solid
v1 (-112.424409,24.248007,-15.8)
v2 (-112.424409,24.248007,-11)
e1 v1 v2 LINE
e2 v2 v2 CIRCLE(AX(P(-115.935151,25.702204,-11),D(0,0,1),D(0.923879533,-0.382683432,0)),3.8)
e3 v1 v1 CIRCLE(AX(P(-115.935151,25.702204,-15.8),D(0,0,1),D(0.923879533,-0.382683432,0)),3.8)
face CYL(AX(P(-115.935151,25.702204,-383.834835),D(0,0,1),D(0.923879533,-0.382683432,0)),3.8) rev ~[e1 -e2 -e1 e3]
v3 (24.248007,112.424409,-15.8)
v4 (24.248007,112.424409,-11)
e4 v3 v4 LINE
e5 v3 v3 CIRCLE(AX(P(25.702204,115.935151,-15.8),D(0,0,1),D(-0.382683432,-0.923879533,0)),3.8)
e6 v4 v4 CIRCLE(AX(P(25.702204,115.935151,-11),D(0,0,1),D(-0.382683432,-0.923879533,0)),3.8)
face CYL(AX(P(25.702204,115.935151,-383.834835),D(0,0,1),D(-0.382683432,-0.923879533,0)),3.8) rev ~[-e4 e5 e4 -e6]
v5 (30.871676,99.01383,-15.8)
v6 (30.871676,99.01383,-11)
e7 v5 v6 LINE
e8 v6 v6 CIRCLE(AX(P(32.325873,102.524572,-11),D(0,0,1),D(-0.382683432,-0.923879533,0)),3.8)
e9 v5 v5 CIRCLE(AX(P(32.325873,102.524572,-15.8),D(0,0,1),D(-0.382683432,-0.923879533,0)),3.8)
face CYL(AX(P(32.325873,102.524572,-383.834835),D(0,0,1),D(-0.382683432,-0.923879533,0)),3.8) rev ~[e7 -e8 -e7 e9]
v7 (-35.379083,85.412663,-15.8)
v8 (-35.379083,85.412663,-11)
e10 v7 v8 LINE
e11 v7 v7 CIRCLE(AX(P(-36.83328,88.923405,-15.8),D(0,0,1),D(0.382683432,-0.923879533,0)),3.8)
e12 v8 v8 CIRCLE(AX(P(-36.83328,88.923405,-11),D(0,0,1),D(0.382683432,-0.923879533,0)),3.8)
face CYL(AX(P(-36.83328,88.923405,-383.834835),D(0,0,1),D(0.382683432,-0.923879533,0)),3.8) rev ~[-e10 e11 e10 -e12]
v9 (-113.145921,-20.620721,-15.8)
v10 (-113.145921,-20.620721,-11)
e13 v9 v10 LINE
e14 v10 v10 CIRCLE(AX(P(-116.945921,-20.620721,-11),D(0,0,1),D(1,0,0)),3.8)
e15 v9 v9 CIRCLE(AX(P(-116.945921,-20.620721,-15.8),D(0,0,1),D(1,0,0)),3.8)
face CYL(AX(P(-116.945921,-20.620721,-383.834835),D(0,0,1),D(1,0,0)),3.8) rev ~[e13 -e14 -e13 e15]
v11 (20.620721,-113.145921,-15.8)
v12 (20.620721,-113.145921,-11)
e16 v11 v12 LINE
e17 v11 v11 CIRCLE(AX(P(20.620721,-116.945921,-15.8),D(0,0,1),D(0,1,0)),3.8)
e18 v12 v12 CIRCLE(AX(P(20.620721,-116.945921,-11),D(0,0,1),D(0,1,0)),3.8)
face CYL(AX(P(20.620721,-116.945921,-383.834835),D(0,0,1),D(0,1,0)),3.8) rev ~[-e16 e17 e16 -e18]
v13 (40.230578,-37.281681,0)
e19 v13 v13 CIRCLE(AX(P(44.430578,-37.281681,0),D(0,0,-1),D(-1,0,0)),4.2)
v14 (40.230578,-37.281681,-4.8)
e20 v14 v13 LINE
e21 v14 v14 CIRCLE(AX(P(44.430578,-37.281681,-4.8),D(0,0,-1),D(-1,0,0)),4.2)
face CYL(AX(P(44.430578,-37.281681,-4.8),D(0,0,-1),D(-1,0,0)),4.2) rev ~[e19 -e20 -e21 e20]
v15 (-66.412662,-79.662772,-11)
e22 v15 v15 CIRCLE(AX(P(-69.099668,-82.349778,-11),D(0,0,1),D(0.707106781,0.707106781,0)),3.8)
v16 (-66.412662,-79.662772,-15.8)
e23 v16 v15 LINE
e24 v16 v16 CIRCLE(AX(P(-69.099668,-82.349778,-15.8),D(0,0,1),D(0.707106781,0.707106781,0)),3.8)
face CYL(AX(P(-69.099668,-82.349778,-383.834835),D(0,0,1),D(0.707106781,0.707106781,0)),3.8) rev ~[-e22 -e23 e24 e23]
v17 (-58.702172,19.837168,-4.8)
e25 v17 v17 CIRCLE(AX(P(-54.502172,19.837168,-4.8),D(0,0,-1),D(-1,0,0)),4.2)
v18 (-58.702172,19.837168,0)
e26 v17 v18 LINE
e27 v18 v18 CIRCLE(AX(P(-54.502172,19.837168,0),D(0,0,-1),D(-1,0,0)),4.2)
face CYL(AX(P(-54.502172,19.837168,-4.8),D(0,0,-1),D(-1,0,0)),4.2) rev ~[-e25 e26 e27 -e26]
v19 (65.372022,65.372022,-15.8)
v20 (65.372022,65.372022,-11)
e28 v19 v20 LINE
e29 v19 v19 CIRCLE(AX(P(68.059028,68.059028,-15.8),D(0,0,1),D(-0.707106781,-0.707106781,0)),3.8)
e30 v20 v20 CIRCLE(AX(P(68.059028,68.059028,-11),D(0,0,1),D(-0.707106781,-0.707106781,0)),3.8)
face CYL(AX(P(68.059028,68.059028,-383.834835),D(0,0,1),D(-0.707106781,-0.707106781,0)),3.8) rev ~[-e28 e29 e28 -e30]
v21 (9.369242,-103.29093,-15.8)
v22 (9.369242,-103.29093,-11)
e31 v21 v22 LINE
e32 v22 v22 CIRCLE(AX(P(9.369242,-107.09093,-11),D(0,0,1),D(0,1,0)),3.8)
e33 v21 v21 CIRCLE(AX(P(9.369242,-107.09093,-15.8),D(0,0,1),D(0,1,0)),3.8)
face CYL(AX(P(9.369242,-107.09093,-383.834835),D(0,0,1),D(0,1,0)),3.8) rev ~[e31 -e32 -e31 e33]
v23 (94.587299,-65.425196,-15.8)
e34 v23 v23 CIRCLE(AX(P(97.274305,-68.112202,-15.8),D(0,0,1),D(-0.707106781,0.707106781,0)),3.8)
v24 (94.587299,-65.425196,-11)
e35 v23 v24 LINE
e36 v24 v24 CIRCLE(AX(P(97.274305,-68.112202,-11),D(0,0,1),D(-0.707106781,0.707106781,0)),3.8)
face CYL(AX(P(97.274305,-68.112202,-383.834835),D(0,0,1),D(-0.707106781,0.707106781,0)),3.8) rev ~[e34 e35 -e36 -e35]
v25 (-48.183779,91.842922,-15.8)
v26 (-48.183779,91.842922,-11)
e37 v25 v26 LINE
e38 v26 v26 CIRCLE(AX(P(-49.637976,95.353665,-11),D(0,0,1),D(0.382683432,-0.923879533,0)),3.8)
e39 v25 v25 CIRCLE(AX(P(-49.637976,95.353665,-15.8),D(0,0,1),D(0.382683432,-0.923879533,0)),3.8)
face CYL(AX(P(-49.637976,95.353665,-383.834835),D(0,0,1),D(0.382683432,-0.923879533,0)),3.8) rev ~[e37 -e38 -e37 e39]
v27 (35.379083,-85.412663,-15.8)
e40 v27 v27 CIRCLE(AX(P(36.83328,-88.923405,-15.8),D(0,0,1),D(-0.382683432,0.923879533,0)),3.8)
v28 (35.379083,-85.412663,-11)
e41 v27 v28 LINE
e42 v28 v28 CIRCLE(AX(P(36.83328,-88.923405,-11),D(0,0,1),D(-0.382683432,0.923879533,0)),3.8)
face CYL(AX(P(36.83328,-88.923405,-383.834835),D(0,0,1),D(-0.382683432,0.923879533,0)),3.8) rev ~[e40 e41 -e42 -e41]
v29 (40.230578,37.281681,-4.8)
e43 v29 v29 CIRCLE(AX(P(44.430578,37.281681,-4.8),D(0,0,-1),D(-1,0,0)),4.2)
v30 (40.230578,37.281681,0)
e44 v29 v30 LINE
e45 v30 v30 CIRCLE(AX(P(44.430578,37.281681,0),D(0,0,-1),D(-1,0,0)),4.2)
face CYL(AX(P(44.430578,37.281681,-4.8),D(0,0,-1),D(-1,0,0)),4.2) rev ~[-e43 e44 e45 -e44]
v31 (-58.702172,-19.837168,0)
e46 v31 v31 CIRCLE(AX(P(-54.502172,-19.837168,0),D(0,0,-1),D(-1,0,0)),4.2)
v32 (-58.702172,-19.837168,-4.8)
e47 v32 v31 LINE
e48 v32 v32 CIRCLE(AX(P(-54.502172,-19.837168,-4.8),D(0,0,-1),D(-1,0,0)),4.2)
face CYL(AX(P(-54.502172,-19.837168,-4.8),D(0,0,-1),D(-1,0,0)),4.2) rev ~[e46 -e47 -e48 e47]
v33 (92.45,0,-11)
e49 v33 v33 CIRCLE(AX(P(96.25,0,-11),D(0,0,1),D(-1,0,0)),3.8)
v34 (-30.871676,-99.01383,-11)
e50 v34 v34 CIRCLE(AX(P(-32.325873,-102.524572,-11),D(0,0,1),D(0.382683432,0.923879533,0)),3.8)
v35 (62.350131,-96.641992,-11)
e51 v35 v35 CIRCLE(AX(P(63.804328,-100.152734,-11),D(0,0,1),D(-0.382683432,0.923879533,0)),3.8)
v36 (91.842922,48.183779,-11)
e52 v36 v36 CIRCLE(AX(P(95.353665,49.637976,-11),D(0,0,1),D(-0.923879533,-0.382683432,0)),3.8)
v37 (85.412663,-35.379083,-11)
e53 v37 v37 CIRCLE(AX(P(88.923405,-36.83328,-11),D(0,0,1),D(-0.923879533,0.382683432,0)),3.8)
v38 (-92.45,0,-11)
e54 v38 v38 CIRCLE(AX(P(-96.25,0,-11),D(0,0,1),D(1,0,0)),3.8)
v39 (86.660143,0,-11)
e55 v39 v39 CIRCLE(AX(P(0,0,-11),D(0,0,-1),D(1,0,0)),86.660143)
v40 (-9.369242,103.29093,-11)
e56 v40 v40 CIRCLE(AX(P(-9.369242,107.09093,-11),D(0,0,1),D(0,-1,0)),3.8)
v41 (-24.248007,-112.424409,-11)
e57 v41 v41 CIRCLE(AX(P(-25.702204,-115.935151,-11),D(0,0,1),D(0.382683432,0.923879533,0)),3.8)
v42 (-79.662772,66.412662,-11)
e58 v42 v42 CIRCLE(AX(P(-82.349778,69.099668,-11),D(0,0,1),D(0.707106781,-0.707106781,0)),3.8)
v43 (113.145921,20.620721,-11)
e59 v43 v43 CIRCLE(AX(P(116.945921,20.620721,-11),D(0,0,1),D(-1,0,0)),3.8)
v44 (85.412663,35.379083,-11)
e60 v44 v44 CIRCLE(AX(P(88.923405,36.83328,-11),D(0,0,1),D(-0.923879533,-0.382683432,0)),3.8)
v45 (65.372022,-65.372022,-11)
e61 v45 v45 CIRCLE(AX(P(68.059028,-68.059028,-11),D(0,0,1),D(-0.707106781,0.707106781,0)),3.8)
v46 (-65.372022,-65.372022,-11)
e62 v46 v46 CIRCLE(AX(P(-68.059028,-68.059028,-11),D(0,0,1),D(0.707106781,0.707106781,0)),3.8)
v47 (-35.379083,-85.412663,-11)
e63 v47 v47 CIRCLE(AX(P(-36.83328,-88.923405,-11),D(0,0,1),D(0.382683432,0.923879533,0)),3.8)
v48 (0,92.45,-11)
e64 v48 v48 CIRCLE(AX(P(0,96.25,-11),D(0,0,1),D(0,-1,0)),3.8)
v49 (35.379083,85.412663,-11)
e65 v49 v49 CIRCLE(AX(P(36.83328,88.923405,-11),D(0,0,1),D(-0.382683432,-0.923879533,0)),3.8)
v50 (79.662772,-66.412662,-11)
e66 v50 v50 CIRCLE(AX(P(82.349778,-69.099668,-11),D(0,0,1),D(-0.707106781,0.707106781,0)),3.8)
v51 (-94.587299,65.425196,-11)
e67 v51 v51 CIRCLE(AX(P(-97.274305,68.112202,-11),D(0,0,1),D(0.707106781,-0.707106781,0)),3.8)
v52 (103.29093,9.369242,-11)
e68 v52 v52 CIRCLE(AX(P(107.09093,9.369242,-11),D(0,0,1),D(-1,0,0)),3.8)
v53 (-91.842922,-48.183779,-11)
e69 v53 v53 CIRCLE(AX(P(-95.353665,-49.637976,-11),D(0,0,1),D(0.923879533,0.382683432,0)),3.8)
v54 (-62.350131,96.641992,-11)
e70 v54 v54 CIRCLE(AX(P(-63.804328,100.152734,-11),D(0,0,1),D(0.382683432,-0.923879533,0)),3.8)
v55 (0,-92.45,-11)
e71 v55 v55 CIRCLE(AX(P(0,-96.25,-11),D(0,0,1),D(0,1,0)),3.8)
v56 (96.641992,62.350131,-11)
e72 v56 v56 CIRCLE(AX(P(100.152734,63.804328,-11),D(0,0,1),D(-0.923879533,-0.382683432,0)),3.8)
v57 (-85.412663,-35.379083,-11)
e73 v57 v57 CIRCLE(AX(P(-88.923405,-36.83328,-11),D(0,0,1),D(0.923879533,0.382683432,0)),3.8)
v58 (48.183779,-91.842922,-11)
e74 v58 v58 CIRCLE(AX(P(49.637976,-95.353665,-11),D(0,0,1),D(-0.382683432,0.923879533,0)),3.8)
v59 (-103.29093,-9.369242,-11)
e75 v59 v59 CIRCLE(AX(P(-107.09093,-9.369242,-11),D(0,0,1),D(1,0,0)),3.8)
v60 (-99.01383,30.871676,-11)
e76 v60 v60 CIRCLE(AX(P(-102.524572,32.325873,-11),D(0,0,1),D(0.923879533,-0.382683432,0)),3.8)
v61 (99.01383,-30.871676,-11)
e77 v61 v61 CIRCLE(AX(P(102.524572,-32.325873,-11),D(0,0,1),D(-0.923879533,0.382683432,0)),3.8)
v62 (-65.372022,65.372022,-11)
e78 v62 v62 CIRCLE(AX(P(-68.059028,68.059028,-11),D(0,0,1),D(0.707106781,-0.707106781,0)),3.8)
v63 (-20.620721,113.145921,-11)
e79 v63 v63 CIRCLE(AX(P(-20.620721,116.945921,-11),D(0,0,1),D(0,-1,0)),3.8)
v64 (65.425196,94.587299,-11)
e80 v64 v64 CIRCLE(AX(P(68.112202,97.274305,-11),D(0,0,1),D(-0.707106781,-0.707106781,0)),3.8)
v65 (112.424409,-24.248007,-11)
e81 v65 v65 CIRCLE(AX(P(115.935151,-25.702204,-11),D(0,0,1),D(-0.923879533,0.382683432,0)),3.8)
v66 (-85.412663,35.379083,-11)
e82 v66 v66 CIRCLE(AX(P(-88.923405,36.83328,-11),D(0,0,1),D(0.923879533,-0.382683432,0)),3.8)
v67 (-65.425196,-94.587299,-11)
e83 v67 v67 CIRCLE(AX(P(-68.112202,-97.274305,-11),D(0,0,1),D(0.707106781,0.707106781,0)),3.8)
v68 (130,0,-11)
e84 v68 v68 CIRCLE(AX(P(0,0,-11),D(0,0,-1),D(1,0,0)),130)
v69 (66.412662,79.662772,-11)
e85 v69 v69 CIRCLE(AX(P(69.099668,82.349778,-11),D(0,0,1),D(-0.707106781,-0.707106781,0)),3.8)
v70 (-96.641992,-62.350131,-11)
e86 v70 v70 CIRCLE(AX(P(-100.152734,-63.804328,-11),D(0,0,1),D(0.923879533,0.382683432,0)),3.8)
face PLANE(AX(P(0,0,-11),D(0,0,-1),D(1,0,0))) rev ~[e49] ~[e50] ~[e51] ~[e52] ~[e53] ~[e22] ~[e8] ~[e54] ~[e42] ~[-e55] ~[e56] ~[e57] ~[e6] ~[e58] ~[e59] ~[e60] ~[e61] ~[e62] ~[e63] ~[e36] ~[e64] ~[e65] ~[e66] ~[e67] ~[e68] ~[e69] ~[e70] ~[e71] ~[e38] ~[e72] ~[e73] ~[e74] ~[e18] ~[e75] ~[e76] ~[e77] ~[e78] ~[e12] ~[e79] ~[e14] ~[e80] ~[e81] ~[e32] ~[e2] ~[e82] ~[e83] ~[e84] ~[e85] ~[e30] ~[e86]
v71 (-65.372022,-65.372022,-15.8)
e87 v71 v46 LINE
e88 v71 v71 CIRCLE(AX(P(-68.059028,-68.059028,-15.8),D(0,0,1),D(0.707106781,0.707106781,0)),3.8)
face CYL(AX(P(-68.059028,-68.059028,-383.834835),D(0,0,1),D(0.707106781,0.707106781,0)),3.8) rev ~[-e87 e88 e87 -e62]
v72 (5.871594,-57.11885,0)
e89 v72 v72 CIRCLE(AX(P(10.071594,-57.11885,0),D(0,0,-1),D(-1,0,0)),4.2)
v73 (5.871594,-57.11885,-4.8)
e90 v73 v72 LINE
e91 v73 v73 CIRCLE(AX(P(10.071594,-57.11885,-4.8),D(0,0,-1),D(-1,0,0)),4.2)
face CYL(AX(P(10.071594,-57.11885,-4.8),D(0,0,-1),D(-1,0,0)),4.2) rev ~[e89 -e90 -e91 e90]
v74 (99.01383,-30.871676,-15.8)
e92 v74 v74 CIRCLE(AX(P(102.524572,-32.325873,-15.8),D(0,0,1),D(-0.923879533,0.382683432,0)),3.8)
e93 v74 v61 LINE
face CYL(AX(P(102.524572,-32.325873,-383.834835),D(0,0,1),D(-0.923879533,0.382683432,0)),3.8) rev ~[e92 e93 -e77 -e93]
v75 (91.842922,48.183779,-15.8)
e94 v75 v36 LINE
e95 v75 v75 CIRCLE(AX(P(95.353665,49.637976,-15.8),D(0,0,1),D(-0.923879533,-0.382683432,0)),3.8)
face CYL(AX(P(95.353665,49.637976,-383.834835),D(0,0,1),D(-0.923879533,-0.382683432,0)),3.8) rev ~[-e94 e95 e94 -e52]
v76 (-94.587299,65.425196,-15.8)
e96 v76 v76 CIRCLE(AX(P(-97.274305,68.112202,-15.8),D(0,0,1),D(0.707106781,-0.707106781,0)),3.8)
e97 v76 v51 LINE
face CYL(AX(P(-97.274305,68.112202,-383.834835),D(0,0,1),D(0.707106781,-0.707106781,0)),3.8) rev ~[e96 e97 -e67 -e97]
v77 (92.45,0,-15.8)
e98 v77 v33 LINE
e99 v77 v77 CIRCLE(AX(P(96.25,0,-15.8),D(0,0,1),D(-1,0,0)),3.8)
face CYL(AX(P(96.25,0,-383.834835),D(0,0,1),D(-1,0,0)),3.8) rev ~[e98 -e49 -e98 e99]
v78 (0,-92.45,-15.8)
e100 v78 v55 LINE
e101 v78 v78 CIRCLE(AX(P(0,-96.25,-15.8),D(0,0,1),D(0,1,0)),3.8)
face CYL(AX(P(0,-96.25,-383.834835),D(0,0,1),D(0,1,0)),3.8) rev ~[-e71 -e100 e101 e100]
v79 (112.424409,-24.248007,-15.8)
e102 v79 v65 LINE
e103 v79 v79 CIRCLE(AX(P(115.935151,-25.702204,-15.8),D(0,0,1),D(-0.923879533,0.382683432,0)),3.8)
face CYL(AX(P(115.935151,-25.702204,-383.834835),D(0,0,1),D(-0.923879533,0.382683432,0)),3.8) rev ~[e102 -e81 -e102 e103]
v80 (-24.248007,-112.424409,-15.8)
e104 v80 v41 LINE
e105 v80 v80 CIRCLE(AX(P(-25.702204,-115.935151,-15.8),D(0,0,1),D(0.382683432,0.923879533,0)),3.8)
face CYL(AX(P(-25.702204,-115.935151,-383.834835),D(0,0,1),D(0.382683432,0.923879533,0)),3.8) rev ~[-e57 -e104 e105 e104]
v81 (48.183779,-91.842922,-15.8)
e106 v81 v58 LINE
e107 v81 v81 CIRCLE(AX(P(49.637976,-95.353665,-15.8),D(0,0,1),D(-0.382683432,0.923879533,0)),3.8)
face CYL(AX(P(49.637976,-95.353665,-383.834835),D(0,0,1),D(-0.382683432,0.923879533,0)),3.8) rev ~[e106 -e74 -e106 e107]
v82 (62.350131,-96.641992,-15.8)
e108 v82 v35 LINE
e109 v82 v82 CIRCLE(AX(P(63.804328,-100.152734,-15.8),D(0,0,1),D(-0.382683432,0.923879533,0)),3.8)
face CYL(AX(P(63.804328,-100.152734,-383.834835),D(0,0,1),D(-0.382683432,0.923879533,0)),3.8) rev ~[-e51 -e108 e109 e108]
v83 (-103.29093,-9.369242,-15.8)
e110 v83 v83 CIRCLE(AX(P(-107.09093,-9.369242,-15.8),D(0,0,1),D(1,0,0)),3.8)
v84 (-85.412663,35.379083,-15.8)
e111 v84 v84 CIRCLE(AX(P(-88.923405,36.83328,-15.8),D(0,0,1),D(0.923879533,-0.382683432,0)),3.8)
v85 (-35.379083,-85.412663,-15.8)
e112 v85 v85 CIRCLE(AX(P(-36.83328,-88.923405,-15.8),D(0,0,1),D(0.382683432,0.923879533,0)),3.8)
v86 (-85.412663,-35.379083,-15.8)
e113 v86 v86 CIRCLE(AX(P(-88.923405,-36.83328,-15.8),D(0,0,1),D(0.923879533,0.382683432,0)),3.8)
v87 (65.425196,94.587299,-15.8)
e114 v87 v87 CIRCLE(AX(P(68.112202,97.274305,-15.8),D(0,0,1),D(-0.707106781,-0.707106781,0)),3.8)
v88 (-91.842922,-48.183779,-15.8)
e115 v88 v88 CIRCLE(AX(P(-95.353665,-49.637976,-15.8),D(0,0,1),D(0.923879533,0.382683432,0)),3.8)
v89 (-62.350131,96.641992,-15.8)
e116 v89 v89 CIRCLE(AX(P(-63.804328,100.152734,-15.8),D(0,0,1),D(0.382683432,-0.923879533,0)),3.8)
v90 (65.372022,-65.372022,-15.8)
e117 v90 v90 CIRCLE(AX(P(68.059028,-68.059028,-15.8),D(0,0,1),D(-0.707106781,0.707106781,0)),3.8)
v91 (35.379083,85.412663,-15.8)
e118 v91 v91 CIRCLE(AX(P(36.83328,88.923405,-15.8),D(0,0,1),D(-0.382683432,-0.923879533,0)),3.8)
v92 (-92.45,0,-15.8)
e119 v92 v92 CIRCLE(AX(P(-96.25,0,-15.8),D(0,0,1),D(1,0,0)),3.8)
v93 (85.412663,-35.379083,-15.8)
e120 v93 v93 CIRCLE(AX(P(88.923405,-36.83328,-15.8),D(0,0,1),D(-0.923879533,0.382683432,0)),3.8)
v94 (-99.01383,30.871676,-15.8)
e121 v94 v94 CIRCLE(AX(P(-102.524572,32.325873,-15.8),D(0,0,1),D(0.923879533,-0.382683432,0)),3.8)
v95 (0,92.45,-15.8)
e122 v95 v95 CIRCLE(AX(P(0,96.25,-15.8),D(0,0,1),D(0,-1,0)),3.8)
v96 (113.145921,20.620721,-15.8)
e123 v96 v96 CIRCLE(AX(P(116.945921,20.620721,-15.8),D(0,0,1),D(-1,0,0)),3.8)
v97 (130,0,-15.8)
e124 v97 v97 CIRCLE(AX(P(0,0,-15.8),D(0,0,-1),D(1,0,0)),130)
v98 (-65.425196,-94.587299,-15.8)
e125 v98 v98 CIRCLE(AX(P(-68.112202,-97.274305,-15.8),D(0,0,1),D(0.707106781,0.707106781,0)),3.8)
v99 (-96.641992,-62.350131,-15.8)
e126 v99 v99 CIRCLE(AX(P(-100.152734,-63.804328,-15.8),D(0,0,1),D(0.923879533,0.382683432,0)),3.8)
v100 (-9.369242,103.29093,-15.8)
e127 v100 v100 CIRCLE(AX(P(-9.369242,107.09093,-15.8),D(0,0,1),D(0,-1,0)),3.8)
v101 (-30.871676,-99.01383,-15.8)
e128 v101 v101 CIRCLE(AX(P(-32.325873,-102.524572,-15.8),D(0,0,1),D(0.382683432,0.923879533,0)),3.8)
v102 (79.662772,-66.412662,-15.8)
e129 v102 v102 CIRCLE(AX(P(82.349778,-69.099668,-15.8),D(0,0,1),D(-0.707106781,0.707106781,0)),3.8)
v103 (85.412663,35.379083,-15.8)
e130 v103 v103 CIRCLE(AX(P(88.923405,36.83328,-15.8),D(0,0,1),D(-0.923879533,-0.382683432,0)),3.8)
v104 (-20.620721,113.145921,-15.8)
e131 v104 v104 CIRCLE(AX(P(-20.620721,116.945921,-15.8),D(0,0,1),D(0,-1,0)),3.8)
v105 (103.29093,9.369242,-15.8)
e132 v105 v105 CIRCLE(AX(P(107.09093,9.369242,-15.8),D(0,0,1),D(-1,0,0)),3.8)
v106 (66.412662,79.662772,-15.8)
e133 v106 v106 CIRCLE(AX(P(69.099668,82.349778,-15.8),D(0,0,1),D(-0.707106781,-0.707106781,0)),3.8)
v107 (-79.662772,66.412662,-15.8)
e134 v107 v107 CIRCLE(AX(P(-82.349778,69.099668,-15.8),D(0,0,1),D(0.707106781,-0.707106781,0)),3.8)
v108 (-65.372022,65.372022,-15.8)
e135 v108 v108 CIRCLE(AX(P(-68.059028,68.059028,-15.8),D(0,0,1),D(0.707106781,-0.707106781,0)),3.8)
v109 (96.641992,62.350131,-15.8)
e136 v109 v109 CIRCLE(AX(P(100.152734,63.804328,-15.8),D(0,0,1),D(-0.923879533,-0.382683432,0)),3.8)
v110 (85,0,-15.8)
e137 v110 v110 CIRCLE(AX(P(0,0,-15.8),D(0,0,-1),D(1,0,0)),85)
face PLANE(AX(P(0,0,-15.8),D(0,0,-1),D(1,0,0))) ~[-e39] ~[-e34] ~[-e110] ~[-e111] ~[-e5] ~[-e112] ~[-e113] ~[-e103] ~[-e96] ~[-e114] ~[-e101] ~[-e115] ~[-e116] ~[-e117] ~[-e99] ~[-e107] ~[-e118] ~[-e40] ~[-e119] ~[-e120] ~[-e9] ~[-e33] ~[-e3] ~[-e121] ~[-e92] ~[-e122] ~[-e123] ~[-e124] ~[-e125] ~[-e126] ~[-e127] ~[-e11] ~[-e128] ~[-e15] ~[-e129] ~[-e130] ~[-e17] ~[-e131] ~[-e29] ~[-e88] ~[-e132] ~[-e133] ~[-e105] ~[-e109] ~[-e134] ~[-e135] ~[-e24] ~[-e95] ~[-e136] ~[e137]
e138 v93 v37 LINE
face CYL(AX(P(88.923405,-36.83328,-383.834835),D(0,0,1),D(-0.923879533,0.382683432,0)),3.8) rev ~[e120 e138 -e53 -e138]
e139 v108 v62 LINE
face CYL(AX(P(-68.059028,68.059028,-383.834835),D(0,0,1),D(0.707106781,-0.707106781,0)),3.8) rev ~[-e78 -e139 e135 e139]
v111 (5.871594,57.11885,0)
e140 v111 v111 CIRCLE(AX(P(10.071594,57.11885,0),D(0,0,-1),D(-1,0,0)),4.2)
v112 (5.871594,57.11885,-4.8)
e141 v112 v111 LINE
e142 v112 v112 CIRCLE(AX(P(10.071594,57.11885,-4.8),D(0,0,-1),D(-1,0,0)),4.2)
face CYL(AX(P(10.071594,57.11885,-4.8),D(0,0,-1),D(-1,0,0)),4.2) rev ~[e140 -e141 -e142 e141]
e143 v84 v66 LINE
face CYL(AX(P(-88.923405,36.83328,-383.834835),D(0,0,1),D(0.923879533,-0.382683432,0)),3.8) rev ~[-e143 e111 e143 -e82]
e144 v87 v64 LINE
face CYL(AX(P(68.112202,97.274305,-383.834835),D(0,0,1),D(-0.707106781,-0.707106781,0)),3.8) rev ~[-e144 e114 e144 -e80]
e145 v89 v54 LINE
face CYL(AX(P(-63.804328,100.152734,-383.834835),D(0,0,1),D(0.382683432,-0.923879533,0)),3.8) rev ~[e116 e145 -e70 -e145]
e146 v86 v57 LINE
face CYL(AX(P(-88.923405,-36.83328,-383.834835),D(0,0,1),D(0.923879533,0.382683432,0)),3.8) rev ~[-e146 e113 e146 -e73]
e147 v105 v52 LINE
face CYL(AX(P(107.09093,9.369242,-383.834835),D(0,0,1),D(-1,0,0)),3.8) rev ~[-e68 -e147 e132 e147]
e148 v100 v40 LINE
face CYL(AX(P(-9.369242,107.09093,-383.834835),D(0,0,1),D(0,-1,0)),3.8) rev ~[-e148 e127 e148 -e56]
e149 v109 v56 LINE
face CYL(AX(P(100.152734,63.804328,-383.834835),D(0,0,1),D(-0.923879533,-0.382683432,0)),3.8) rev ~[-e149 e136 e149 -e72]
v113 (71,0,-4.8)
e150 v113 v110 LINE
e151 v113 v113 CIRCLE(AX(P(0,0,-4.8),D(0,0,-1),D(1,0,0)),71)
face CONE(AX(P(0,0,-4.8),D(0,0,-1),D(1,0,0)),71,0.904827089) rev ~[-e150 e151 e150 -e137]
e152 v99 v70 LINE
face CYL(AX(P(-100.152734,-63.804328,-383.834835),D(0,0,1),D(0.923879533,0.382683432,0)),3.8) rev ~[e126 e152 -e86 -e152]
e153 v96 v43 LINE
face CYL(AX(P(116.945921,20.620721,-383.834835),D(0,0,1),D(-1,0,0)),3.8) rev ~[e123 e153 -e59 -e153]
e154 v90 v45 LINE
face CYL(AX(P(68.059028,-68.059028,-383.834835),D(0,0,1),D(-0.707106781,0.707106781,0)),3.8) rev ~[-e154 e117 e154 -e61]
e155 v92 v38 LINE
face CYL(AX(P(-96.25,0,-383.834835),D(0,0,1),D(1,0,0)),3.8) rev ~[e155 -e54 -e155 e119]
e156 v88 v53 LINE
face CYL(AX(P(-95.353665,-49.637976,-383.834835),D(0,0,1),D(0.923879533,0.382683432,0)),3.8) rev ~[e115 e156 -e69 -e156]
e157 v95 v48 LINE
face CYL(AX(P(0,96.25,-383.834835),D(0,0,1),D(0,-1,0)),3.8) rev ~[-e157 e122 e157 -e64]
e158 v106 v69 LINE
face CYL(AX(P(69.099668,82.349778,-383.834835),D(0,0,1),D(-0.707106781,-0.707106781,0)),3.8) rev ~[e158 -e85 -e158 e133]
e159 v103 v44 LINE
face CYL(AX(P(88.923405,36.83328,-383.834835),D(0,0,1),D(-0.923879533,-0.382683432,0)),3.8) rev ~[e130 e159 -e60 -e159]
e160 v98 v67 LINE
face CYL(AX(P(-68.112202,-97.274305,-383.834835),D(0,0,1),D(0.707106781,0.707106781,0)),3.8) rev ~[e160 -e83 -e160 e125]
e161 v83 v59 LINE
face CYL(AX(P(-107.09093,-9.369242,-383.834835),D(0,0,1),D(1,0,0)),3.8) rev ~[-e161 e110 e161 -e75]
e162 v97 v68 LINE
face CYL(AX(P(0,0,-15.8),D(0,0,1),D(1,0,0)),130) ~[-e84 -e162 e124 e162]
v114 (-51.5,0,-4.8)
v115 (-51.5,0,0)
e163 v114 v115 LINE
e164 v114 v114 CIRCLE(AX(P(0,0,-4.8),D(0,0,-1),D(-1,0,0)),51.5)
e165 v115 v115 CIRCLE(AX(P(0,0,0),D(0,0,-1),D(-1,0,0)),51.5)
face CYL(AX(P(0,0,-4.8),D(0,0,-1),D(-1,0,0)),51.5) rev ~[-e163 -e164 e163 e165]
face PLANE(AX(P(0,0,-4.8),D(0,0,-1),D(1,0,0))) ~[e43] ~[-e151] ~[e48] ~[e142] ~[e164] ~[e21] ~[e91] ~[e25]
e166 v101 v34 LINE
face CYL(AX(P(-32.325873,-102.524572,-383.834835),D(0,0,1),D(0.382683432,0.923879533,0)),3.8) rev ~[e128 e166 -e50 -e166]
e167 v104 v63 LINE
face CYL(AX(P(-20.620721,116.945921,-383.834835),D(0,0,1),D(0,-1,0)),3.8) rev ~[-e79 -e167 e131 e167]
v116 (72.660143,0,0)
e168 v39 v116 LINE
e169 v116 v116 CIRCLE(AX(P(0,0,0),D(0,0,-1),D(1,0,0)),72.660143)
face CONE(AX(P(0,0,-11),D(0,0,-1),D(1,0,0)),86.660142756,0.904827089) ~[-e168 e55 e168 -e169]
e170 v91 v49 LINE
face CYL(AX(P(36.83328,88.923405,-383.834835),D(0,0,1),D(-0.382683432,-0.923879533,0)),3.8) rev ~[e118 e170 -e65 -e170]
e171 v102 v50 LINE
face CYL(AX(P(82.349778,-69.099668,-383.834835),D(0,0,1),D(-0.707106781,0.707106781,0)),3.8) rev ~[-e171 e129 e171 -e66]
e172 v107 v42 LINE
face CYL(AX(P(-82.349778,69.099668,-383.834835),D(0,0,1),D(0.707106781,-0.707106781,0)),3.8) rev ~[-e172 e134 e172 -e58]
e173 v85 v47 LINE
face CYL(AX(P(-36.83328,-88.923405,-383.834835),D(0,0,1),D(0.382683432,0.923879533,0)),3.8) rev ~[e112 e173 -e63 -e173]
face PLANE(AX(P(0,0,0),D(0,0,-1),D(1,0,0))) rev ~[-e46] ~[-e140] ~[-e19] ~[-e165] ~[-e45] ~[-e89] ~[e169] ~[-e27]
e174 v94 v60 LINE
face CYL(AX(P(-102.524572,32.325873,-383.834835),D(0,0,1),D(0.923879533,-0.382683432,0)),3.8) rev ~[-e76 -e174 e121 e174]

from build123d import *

# Parameters (mm, degrees)
SKETCH3_R                  = 51.5
CUT_EXTRUDE1_DEPTH         = 185.176545738
SKETCH4_R                  = 4.2
CUT_EXTRUDE2_DEPTH         = 185.176545738
F_7_6_7_6_DIAMETER_HOLE1_D = 7.6
CIRPATTERN1_COUNT          = 16


with BuildPart() as part:
    # Sketch2 → Revolve1 (revolve)
    with BuildSketch(Plane(origin=(0, 0, 0), x_dir=(1, 0, 0), z_dir=(0, 1, 0))):
        Polygon((0, 0), (0, 4.8), (-71, 4.8), (-85, 15.8), (-130, 15.8), (-130, 11), (-86.660142756, 11), (-72.660142756, 0), align=None)
    revolve(axis=Axis((0, 0, 0), (0, 0, -1)))

    # Sketch3 → Cut-Extrude1 (cut, through all)
    with BuildSketch(Plane(origin=(0, 0, -4.8), x_dir=(-1, 0, 0), z_dir=(0, 0, -1))):
        Circle(SKETCH3_R)
    extrude(amount=-CUT_EXTRUDE1_DEPTH, mode=Mode.SUBTRACT)

    # Sketch4 → Cut-Extrude2 (cut, through all)
    with BuildSketch(Plane(origin=(0, 0, -4.8), x_dir=(-1, 0, 0), z_dir=(0, 0, -1))):
        with Locations((-10.071594305, -57.118849675)):
            Circle(SKETCH4_R)
        with Locations((-44.430577701, -37.281681362)):
            Circle(SKETCH4_R)
        with Locations((54.502172006, -19.837168313)):
            Circle(SKETCH4_R)
        with Locations((54.502172006, 19.837168313)):
            Circle(SKETCH4_R)
        with Locations((-10.071594305, 57.118849675)):
            Circle(SKETCH4_R)
        with Locations((-44.430577701, 37.281681362)):
            Circle(SKETCH4_R)
    extrude(amount=-CUT_EXTRUDE2_DEPTH, mode=Mode.SUBTRACT)

    # Ø7.6 (7.6) Diameter Hole1 (through all)
    with Locations(Plane(origin=(0, 0, -15.8), x_dir=(-1, 0, 0), z_dir=(0, 0, -1))):
        with Locations((116.94592067, -20.620721098), (96.25, 0), (107.090930045, -9.369242345)):
            f_7_6_7_6_diameter_hole1 = Hole(F_7_6_7_6_DIAMETER_HOLE1_D / 2)

    # CirPattern1: Ø7.6 (7.6) Diameter Hole1 ×16 about axis
    cirpattern1_axis = Axis((0, 0, -4.8), (0, 0, -1))
    for i in range(1, CIRPATTERN1_COUNT):
        add(f_7_6_7_6_diameter_hole1.rotate(cirpattern1_axis, i * 360 / CIRPATTERN1_COUNT), mode=Mode.SUBTRACT)


solid = part.part
